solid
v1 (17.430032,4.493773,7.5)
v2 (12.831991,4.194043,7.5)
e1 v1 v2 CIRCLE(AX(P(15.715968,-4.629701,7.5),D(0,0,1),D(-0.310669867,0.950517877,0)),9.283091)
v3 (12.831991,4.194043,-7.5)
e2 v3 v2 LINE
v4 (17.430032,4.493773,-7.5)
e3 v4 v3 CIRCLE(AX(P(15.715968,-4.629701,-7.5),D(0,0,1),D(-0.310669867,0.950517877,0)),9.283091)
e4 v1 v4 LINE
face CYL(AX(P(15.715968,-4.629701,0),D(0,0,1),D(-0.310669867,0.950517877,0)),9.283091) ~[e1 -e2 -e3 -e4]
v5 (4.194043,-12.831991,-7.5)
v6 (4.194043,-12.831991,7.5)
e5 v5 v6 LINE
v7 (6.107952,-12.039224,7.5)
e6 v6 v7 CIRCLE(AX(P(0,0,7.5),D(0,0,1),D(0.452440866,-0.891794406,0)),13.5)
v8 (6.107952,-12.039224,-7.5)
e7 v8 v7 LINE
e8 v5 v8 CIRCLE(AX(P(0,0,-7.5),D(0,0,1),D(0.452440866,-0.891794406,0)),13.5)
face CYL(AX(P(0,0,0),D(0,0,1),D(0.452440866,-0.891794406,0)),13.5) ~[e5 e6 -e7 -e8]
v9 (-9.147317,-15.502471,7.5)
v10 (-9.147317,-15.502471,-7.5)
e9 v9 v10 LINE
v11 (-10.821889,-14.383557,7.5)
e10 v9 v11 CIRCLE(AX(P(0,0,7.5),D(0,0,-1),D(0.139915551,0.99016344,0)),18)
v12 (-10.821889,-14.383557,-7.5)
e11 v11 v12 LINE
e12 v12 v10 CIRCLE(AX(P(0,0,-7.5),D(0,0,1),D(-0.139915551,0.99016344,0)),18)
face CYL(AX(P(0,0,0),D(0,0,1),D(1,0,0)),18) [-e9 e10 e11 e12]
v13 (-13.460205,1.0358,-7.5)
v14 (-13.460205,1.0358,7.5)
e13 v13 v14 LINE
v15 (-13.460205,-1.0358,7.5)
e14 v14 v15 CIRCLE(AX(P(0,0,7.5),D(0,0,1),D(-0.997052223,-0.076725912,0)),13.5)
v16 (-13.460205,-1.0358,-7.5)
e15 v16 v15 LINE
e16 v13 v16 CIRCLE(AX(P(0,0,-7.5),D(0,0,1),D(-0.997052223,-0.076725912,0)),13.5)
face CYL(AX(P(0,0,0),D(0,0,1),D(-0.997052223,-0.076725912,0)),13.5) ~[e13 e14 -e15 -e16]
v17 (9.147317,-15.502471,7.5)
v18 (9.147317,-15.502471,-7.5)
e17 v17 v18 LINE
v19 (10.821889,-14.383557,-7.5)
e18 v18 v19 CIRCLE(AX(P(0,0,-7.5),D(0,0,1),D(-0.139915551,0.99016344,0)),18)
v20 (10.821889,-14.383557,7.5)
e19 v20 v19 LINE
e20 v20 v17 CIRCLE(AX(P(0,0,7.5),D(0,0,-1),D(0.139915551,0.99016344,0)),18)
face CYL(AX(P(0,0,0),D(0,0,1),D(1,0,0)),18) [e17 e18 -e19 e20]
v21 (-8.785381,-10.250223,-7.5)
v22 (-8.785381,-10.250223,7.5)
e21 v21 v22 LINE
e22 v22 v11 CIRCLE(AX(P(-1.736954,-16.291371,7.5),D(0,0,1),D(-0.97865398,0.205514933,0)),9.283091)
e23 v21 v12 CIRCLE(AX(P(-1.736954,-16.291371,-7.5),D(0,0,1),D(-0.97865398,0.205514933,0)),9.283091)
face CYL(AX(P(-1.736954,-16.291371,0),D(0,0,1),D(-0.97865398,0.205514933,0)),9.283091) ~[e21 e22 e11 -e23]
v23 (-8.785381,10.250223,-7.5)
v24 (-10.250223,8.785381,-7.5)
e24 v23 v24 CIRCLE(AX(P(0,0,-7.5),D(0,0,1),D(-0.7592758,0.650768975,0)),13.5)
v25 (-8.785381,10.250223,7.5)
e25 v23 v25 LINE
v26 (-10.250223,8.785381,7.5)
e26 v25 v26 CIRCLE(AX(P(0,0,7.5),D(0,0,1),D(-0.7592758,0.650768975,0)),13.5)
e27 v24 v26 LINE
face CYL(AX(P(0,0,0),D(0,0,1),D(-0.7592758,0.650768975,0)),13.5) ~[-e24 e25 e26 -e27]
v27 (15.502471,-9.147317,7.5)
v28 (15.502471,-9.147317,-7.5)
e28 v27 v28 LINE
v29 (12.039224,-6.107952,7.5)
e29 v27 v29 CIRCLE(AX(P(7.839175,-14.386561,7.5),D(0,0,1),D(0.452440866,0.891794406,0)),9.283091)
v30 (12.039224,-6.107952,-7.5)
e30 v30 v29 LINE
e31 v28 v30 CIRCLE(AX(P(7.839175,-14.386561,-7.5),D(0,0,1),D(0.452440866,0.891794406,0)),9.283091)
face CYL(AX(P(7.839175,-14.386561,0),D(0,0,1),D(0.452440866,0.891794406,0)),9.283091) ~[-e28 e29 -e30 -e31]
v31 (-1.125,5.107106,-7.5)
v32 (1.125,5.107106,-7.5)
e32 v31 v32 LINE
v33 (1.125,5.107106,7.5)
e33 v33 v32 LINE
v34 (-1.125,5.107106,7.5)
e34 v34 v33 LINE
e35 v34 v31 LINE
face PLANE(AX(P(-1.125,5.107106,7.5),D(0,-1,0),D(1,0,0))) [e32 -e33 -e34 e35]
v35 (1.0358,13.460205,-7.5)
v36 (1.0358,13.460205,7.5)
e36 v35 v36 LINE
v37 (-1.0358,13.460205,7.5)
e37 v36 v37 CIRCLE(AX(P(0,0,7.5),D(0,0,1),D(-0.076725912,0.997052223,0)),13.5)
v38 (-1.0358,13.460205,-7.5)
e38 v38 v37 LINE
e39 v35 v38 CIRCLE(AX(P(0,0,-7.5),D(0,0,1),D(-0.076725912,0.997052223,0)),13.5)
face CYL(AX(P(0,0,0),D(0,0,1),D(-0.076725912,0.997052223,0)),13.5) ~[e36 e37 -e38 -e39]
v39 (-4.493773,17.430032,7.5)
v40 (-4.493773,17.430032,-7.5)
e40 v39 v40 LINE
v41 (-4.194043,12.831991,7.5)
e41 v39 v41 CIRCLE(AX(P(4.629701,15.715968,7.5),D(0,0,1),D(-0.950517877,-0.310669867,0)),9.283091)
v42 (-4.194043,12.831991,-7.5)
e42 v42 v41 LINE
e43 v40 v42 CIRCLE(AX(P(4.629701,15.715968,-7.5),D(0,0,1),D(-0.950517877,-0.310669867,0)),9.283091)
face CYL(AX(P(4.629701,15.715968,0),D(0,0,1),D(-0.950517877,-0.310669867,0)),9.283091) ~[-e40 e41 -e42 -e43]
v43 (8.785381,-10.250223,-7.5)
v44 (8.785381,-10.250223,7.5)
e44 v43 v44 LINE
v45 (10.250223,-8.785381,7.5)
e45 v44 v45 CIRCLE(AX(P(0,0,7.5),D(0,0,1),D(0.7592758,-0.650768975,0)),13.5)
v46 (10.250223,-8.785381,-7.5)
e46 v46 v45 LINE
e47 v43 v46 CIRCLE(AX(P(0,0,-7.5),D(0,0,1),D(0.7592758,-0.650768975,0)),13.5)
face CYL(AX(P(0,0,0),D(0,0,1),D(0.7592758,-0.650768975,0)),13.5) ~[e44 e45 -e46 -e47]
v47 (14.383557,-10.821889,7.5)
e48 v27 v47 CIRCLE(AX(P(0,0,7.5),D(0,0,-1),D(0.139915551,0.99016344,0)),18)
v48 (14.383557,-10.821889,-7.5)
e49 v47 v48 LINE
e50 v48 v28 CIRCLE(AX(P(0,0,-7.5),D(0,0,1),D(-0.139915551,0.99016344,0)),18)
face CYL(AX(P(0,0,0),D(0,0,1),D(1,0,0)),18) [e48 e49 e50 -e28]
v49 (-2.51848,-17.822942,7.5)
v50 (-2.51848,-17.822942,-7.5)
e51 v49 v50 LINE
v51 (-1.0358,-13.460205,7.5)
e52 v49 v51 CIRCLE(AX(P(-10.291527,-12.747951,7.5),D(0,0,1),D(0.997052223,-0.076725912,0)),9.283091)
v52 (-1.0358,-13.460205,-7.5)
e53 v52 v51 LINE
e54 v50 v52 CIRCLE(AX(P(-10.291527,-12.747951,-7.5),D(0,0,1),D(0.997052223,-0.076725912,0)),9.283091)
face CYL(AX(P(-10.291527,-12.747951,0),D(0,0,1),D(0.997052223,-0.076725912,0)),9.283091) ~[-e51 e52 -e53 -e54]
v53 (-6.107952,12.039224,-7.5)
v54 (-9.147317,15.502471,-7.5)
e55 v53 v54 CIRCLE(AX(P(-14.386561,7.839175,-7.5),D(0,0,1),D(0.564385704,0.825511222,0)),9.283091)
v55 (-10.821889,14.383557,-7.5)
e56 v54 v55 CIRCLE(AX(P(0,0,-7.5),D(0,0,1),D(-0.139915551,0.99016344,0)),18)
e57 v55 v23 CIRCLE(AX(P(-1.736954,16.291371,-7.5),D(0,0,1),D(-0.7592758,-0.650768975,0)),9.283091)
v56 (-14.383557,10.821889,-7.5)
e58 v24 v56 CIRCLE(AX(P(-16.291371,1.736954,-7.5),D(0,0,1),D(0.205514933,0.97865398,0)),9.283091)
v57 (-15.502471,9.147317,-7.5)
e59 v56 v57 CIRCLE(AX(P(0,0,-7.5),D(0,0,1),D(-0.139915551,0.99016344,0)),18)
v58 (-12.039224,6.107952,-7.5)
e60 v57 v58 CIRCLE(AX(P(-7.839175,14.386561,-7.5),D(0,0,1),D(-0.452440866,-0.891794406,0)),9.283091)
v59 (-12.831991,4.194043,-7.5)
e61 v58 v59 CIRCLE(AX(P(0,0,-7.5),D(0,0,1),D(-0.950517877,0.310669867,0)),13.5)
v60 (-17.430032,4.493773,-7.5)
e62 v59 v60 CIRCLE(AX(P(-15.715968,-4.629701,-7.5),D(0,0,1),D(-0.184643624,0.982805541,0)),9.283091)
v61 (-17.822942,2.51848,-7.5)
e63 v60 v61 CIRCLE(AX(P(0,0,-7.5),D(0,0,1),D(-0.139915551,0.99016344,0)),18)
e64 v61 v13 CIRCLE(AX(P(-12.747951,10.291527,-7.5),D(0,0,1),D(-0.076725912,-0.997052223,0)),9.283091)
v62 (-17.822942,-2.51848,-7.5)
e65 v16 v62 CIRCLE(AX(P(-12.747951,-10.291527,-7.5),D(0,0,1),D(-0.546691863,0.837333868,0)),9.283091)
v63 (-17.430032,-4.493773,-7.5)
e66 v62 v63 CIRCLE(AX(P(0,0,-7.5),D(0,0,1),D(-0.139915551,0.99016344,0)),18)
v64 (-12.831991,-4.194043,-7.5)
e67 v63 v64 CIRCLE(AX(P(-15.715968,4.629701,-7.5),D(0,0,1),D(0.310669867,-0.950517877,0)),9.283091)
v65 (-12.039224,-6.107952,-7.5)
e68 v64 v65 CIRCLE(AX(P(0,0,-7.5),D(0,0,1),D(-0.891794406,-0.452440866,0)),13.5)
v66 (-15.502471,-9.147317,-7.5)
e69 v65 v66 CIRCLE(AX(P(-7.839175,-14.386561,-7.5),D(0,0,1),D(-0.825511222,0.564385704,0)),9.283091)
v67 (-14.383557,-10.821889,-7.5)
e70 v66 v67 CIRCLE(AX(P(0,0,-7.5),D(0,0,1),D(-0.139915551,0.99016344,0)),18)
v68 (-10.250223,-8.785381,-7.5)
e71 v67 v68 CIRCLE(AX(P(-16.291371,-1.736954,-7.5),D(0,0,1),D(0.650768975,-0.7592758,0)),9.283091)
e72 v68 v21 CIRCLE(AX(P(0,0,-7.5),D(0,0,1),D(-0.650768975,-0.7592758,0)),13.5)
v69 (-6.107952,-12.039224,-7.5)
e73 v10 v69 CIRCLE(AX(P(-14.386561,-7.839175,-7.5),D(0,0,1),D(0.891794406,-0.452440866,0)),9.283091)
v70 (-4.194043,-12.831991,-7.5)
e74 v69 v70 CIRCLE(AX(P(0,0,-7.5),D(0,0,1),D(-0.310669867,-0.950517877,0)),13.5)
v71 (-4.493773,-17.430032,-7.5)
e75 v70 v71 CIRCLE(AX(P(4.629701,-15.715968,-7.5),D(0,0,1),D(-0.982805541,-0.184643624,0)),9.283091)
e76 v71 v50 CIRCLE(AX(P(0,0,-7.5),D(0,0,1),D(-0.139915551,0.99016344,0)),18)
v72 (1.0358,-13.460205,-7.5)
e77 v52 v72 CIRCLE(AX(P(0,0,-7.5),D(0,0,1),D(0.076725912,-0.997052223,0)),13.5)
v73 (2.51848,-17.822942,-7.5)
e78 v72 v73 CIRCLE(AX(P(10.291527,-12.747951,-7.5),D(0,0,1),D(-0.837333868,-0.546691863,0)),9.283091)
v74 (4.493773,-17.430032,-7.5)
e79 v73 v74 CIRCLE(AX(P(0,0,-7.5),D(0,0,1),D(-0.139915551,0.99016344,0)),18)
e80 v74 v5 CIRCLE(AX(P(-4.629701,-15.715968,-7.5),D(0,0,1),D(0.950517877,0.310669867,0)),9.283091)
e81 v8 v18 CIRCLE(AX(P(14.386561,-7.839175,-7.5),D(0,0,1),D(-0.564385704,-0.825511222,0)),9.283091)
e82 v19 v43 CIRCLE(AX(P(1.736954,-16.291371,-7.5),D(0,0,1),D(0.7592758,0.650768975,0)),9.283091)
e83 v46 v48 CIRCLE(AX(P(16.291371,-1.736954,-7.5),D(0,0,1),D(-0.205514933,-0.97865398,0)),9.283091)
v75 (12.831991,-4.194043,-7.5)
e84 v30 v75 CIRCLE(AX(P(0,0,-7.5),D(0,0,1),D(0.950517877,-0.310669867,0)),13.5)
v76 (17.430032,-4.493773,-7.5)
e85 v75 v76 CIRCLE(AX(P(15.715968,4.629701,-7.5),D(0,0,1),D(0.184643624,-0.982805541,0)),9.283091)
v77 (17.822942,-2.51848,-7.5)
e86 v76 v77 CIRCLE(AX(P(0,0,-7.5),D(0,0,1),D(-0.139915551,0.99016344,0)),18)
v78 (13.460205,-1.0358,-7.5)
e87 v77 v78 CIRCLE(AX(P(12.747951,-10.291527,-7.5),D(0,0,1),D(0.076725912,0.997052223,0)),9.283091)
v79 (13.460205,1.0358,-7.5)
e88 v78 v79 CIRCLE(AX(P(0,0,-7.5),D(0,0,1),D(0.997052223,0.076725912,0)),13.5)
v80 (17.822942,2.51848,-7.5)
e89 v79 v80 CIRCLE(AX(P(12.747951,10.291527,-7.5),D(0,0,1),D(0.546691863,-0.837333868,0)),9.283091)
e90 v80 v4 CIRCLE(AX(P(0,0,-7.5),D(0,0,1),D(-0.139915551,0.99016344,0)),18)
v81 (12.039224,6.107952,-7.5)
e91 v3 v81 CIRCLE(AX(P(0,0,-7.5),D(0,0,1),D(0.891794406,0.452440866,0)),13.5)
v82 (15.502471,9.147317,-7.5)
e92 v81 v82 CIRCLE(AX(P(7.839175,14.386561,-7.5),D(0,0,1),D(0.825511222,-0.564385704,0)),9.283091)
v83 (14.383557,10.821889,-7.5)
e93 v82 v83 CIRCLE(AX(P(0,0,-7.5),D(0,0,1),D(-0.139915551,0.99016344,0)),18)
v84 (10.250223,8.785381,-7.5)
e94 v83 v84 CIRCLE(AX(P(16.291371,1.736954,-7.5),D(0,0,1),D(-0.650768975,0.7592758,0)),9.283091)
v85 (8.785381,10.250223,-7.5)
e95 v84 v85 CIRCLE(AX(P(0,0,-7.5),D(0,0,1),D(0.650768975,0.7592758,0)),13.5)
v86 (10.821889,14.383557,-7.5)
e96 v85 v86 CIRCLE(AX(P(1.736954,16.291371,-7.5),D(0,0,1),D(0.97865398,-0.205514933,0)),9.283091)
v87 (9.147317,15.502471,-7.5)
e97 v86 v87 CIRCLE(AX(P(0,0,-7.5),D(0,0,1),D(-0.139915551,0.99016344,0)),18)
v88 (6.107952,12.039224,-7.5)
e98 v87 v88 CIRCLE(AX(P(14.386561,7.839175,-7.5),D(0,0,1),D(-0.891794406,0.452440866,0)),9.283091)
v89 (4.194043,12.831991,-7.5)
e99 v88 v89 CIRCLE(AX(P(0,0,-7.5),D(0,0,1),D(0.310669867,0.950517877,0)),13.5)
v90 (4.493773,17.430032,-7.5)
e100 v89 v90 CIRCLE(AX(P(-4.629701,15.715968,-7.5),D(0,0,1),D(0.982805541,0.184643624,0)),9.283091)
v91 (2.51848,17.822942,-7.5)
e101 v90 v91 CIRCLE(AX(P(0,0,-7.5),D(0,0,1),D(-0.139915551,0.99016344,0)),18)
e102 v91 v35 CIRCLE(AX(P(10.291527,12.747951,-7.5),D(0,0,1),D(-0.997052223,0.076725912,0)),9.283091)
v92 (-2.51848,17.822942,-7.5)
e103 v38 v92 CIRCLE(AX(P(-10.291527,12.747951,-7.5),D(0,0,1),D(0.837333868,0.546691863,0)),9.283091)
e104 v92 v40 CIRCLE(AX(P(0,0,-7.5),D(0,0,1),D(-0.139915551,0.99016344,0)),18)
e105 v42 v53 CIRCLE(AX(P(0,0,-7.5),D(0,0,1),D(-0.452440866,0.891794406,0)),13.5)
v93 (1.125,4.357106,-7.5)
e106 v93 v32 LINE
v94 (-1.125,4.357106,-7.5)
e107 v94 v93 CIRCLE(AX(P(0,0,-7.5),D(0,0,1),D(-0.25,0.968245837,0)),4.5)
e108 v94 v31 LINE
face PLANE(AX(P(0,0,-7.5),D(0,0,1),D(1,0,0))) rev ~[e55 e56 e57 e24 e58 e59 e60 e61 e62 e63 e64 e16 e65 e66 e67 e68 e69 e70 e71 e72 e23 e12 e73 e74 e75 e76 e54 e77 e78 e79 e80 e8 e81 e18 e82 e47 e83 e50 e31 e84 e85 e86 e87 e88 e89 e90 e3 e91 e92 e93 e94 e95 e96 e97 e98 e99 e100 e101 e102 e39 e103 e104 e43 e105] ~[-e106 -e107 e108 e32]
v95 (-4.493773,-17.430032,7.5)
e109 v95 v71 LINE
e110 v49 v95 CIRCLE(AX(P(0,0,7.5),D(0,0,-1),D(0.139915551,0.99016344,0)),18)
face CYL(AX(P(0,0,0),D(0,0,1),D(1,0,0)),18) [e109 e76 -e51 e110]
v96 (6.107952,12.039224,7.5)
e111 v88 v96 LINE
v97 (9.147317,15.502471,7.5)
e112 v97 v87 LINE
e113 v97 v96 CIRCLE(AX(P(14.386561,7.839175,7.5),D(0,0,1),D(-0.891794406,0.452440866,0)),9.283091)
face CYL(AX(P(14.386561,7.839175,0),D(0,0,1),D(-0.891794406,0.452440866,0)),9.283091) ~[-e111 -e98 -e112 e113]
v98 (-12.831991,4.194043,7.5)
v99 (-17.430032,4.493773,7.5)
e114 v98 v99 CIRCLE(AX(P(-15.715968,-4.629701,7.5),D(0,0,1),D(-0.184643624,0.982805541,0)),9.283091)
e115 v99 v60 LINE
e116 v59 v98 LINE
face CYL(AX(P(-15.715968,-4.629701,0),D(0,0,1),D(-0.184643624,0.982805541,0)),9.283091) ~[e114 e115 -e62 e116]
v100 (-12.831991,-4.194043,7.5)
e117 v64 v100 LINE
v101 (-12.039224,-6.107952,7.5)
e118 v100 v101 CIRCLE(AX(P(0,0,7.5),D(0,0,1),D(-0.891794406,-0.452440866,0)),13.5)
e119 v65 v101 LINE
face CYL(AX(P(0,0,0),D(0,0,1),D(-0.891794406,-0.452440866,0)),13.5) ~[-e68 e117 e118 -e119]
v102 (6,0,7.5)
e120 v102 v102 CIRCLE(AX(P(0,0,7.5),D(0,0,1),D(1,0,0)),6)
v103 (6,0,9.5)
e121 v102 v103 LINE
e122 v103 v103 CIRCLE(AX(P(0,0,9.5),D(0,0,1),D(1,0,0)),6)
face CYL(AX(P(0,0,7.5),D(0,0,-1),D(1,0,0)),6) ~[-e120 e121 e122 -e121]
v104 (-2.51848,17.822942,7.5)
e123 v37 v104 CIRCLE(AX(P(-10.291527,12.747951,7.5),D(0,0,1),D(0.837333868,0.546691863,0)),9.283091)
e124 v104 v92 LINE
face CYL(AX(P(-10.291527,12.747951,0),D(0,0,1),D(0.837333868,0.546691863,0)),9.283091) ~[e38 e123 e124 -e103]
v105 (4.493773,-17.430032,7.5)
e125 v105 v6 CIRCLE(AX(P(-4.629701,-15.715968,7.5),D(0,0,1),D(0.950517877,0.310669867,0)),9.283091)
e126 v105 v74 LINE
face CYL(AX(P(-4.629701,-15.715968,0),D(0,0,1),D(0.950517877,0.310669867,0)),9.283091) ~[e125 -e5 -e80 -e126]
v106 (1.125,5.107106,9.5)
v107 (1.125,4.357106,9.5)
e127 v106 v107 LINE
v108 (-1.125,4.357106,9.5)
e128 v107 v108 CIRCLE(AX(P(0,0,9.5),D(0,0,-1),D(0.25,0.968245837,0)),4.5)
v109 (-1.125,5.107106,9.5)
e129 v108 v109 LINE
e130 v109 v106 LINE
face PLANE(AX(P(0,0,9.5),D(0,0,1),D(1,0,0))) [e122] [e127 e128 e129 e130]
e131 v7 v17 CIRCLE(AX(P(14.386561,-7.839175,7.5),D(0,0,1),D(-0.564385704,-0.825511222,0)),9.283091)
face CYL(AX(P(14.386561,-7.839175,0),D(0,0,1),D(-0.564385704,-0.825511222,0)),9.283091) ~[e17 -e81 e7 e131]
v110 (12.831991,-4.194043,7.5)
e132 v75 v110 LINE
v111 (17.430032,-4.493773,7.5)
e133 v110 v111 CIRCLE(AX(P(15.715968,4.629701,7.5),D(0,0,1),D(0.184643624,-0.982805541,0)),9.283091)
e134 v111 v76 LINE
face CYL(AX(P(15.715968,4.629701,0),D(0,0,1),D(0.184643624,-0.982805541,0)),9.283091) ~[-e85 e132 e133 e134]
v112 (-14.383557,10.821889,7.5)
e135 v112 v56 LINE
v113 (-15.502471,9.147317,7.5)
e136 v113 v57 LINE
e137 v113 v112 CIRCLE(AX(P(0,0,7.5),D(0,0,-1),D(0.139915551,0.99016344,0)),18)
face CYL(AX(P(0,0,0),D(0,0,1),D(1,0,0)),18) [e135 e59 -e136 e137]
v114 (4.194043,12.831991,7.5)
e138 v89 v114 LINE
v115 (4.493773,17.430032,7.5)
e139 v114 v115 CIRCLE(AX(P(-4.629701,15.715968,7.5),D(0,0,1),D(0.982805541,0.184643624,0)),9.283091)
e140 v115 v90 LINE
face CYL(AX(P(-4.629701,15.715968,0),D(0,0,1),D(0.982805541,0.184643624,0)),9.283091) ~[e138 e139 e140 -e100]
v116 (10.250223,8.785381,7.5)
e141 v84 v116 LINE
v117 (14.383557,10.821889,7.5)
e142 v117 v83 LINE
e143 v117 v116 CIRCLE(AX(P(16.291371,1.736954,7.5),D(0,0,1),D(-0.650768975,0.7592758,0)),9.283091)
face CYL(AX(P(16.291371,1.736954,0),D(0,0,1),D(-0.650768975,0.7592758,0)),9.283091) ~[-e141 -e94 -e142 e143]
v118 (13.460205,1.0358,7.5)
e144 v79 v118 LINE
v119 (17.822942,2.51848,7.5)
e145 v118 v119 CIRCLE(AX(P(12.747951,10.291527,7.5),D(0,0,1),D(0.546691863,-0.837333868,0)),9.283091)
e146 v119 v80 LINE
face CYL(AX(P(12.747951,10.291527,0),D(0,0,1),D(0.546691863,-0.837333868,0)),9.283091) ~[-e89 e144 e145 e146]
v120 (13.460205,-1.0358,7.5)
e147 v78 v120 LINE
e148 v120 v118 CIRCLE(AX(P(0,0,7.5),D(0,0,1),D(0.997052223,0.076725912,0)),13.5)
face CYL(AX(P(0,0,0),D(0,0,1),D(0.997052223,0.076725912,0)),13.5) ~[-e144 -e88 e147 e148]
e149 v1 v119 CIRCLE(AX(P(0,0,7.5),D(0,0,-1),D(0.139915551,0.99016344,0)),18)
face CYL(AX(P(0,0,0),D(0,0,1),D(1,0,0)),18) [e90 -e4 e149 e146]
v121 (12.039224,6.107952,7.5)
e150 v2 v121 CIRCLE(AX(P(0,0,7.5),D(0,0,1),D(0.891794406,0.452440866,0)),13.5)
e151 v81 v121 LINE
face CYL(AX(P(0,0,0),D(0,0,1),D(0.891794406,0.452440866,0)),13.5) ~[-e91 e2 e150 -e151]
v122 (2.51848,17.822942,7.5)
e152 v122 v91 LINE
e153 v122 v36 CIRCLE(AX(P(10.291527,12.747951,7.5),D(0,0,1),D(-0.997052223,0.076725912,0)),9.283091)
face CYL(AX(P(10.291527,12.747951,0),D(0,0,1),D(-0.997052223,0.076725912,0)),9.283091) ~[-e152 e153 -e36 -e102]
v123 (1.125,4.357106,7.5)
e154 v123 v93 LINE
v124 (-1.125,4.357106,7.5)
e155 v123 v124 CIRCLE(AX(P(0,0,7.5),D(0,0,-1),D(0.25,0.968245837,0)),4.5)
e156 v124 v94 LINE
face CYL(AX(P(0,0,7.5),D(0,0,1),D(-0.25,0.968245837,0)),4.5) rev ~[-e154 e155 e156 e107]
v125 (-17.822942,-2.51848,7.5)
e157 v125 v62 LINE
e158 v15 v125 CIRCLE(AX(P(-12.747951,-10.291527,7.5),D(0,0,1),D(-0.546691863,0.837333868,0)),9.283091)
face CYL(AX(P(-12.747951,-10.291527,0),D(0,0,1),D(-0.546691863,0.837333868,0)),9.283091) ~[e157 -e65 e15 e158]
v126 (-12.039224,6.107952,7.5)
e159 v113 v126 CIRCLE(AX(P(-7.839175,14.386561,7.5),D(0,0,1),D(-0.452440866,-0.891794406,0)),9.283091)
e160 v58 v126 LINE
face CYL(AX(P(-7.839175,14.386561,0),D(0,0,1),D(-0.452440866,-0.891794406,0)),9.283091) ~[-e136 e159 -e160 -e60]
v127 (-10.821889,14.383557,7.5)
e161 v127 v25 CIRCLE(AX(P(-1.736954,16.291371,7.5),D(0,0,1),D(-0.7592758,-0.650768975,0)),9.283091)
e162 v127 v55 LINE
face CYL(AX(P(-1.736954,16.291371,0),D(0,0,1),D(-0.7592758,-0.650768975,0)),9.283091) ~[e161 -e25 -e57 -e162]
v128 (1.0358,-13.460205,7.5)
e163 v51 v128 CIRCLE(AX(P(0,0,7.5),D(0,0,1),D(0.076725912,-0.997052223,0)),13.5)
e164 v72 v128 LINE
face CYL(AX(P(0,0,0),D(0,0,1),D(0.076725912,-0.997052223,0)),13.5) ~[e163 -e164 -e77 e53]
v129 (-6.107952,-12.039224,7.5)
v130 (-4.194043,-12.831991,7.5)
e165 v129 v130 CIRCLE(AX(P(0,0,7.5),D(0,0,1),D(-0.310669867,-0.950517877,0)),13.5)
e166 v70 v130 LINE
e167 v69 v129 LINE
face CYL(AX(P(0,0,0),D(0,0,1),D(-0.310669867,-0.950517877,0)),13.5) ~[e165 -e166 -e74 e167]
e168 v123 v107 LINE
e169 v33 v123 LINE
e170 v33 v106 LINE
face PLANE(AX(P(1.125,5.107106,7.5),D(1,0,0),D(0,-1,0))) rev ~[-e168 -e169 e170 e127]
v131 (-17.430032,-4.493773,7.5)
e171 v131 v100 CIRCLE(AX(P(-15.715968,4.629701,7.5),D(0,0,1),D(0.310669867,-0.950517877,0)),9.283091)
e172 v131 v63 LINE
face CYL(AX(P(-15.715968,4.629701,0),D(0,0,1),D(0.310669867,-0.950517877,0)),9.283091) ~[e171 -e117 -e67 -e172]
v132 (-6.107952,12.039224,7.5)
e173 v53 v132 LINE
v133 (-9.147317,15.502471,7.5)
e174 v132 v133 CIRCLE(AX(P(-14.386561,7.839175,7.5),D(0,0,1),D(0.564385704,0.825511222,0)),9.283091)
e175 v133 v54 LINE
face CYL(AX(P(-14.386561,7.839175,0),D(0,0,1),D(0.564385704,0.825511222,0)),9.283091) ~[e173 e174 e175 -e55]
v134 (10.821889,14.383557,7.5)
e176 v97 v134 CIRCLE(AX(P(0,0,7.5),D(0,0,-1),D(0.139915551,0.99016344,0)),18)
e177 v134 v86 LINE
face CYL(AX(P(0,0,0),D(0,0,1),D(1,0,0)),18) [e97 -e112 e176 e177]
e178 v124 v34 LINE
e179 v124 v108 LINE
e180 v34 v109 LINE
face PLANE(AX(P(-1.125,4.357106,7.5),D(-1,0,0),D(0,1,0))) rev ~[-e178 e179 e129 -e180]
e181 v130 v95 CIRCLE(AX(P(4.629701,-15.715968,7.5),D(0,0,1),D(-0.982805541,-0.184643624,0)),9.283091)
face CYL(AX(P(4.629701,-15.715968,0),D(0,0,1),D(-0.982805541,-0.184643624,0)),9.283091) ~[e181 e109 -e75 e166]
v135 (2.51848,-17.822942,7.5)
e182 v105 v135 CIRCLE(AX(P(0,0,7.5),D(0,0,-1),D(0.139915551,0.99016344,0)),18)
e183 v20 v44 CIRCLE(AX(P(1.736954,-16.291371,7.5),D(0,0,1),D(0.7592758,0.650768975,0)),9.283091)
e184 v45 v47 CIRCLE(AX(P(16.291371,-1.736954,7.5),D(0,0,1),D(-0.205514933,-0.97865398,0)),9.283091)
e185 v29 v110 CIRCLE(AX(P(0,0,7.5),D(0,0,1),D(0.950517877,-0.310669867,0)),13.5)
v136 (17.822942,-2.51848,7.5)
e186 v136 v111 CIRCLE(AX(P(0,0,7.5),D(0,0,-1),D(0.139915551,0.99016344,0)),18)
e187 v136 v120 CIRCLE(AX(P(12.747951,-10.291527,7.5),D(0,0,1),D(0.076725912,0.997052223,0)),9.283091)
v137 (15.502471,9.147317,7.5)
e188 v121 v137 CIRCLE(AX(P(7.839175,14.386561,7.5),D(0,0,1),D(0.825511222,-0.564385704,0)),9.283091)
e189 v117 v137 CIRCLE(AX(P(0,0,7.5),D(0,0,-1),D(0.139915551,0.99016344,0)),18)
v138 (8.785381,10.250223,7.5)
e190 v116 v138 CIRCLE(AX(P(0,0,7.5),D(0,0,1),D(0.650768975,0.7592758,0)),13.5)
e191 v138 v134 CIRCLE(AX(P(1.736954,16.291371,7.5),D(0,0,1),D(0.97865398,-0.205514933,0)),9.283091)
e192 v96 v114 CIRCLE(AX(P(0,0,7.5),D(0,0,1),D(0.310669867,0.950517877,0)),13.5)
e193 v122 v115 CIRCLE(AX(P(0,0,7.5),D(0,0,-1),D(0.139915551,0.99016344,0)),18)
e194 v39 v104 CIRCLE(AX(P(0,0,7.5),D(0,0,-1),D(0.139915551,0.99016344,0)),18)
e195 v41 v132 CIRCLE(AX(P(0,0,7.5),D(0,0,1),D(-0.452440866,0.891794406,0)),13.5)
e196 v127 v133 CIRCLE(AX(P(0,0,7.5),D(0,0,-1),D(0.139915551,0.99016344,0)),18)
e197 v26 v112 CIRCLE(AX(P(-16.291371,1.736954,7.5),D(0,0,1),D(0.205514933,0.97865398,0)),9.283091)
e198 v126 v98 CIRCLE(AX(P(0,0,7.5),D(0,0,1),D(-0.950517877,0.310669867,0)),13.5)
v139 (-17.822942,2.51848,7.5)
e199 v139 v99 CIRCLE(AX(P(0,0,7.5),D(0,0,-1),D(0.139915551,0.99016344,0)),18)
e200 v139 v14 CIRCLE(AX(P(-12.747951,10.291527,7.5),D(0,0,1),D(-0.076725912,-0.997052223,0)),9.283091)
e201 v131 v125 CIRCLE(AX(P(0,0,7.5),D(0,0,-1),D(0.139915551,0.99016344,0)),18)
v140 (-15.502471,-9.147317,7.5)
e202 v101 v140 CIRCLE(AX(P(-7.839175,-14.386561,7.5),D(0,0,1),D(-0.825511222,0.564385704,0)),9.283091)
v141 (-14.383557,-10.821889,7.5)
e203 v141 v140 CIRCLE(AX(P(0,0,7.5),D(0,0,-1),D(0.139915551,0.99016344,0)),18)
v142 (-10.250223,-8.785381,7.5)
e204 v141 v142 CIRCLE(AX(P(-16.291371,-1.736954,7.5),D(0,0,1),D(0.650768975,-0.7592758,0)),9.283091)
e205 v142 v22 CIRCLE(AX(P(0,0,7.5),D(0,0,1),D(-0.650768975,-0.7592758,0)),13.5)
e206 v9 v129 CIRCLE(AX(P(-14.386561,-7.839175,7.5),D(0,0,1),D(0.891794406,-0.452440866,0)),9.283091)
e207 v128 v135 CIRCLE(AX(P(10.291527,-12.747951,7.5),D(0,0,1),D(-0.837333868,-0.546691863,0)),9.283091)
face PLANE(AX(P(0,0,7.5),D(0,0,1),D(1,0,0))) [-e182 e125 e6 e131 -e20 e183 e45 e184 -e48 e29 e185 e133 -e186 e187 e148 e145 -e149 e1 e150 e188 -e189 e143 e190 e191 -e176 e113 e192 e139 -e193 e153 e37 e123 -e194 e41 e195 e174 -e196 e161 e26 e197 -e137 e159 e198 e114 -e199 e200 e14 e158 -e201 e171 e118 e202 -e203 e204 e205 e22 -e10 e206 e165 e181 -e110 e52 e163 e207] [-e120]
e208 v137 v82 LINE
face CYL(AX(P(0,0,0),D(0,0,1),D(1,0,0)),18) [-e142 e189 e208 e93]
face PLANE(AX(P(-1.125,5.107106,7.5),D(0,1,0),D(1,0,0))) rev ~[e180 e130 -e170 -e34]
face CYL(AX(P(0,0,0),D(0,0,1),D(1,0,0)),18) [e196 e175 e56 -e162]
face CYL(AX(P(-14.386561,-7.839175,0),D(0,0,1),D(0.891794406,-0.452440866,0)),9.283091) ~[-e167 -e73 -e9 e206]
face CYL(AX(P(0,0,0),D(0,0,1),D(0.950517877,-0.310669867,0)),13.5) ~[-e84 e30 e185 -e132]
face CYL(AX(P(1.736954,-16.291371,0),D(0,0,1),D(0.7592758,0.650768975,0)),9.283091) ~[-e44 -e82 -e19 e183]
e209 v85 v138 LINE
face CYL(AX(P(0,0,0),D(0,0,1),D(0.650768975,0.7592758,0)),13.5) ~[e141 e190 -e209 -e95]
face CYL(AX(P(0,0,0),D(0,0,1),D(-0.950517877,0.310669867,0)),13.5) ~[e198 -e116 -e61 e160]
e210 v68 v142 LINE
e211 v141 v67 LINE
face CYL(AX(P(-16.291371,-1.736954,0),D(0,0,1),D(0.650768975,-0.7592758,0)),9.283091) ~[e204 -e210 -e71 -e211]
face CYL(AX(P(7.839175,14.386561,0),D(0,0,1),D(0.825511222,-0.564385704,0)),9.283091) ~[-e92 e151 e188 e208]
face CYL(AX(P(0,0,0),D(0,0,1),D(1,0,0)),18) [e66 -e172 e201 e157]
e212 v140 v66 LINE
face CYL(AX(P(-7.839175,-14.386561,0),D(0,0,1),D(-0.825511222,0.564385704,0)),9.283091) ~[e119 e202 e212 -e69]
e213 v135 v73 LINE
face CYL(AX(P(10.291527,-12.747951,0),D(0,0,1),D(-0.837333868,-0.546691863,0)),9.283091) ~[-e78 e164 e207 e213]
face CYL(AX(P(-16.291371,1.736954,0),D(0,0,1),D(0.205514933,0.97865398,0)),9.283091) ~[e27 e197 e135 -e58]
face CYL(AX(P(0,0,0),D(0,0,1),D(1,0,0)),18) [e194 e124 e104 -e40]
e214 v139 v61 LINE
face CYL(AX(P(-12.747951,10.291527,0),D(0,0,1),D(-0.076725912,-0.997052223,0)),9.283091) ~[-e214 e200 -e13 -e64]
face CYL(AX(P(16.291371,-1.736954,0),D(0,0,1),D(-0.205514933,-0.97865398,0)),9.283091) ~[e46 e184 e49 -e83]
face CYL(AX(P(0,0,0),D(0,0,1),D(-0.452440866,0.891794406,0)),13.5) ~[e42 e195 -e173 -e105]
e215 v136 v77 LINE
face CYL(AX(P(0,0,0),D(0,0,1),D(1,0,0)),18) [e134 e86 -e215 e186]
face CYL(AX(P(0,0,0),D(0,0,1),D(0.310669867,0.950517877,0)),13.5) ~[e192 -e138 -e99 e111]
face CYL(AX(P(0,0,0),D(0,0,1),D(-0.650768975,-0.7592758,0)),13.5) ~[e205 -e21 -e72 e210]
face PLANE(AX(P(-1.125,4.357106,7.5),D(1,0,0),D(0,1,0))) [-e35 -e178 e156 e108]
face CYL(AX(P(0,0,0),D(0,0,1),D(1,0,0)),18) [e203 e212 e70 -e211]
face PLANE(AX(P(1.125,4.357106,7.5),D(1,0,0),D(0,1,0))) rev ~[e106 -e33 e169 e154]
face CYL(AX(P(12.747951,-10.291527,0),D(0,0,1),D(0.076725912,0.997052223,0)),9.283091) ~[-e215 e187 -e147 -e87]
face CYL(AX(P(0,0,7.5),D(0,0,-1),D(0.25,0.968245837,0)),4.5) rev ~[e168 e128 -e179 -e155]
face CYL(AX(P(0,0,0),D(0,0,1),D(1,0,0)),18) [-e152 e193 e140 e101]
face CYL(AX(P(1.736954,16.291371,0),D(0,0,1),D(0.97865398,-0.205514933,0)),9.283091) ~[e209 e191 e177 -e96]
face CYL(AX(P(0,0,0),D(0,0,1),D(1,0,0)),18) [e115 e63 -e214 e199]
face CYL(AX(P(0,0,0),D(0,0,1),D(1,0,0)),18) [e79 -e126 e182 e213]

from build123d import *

# Parameters (mm, degrees)
SKETCH1_R               = 18
BOSS_EXTRUDE1_DEPTH     = 7.5
CUT_EXTRUDE1_DEPTH      = 8.5
SKETCH3_R               = 6
BOSS_EXTRUDE2_DEPTH     = 2
SKETCH3_3_W             = 2.25
SKETCH3_3_H             = 1.5
CUT_EXTRUDE2_DEPTH      = 3
CUT_EXTRUDE2_DEPTH_BACK = 16
CIRPATTERN1_COUNT       = 16


with BuildPart() as part:
    # Sketch1 → Boss-Extrude1 (new body, symmetric)
    with BuildSketch(Plane.XY):
        Circle(SKETCH1_R)
    extrude(amount=BOSS_EXTRUDE1_DEPTH, both=True)

    # Sketch2 → Cut-Extrude1 (cut, symmetric)
    with BuildSketch(Plane.XY):
        with BuildLine():
            ThreePointArc((-2.51847991, 17.822941927), (-1.502149502, 15.735029188), (-1.035799814, 13.460205004))
            ThreePointArc((-1.035799814, 13.460205004), (0, 13.5), (1.035799814, 13.460205004))
            ThreePointArc((1.035799814, 13.460205004), (1.502149502, 15.735029188), (2.51847991, 17.822941927))
            ThreePointArc((2.51847991, 17.822941927), (0, 18), (-2.51847991, 17.822941927))
        make_face()
    cut_extrude1 = extrude(amount=CUT_EXTRUDE1_DEPTH, both=True, mode=Mode.SUBTRACT)

    # Sketch3 → Boss-Extrude2 (add)
    with BuildSketch(Plane.XY.offset(7.5)):
        Circle(SKETCH3_R)
        with BuildLine():
            ThreePointArc((1.125, 4.357106264), (0, -4.5), (-1.125, 4.357106264))
            Line((-1.125, 4.357106264), (-1.125, 5.107106264))
            Line((-1.125, 5.107106264), (1.125, 5.107106264))
            Line((1.125, 5.107106264), (1.125, 4.357106264))
        make_face(mode=Mode.SUBTRACT)
    extrude(amount=BOSS_EXTRUDE2_DEPTH)

    # Sketch3<3> → Cut-Extrude2 (cut, two sides)
    with BuildSketch(Plane.XY.offset(7.5)) as cut_extrude2_sk:
        with BuildLine():
            Line((1.125, 3.607106264), (-1.125, 3.607106264))
            Line((-1.125, 3.607106264), (-1.125, 4.357106264))
            ThreePointArc((-1.125, 4.357106264), (0, -4.5), (1.125, 4.357106264))
            Line((1.125, 4.357106264), (1.125, 3.607106264))
        make_face()
        with Locations((0, 4.357106264)):
            Rectangle(SKETCH3_3_W, SKETCH3_3_H)
    extrude(amount=CUT_EXTRUDE2_DEPTH, mode=Mode.SUBTRACT)
    extrude(cut_extrude2_sk.sketch, amount=-CUT_EXTRUDE2_DEPTH_BACK, mode=Mode.SUBTRACT)

    # CirPattern1: Cut-Extrude1 ×16 about axis
    cirpattern1_axis = Axis((0, 0, 0), (0, 0, 1))
    for i in range(1, CIRPATTERN1_COUNT):
        add(cut_extrude1.rotate(cirpattern1_axis, i * 360 / CIRPATTERN1_COUNT), mode=Mode.SUBTRACT)


solid = part.part
